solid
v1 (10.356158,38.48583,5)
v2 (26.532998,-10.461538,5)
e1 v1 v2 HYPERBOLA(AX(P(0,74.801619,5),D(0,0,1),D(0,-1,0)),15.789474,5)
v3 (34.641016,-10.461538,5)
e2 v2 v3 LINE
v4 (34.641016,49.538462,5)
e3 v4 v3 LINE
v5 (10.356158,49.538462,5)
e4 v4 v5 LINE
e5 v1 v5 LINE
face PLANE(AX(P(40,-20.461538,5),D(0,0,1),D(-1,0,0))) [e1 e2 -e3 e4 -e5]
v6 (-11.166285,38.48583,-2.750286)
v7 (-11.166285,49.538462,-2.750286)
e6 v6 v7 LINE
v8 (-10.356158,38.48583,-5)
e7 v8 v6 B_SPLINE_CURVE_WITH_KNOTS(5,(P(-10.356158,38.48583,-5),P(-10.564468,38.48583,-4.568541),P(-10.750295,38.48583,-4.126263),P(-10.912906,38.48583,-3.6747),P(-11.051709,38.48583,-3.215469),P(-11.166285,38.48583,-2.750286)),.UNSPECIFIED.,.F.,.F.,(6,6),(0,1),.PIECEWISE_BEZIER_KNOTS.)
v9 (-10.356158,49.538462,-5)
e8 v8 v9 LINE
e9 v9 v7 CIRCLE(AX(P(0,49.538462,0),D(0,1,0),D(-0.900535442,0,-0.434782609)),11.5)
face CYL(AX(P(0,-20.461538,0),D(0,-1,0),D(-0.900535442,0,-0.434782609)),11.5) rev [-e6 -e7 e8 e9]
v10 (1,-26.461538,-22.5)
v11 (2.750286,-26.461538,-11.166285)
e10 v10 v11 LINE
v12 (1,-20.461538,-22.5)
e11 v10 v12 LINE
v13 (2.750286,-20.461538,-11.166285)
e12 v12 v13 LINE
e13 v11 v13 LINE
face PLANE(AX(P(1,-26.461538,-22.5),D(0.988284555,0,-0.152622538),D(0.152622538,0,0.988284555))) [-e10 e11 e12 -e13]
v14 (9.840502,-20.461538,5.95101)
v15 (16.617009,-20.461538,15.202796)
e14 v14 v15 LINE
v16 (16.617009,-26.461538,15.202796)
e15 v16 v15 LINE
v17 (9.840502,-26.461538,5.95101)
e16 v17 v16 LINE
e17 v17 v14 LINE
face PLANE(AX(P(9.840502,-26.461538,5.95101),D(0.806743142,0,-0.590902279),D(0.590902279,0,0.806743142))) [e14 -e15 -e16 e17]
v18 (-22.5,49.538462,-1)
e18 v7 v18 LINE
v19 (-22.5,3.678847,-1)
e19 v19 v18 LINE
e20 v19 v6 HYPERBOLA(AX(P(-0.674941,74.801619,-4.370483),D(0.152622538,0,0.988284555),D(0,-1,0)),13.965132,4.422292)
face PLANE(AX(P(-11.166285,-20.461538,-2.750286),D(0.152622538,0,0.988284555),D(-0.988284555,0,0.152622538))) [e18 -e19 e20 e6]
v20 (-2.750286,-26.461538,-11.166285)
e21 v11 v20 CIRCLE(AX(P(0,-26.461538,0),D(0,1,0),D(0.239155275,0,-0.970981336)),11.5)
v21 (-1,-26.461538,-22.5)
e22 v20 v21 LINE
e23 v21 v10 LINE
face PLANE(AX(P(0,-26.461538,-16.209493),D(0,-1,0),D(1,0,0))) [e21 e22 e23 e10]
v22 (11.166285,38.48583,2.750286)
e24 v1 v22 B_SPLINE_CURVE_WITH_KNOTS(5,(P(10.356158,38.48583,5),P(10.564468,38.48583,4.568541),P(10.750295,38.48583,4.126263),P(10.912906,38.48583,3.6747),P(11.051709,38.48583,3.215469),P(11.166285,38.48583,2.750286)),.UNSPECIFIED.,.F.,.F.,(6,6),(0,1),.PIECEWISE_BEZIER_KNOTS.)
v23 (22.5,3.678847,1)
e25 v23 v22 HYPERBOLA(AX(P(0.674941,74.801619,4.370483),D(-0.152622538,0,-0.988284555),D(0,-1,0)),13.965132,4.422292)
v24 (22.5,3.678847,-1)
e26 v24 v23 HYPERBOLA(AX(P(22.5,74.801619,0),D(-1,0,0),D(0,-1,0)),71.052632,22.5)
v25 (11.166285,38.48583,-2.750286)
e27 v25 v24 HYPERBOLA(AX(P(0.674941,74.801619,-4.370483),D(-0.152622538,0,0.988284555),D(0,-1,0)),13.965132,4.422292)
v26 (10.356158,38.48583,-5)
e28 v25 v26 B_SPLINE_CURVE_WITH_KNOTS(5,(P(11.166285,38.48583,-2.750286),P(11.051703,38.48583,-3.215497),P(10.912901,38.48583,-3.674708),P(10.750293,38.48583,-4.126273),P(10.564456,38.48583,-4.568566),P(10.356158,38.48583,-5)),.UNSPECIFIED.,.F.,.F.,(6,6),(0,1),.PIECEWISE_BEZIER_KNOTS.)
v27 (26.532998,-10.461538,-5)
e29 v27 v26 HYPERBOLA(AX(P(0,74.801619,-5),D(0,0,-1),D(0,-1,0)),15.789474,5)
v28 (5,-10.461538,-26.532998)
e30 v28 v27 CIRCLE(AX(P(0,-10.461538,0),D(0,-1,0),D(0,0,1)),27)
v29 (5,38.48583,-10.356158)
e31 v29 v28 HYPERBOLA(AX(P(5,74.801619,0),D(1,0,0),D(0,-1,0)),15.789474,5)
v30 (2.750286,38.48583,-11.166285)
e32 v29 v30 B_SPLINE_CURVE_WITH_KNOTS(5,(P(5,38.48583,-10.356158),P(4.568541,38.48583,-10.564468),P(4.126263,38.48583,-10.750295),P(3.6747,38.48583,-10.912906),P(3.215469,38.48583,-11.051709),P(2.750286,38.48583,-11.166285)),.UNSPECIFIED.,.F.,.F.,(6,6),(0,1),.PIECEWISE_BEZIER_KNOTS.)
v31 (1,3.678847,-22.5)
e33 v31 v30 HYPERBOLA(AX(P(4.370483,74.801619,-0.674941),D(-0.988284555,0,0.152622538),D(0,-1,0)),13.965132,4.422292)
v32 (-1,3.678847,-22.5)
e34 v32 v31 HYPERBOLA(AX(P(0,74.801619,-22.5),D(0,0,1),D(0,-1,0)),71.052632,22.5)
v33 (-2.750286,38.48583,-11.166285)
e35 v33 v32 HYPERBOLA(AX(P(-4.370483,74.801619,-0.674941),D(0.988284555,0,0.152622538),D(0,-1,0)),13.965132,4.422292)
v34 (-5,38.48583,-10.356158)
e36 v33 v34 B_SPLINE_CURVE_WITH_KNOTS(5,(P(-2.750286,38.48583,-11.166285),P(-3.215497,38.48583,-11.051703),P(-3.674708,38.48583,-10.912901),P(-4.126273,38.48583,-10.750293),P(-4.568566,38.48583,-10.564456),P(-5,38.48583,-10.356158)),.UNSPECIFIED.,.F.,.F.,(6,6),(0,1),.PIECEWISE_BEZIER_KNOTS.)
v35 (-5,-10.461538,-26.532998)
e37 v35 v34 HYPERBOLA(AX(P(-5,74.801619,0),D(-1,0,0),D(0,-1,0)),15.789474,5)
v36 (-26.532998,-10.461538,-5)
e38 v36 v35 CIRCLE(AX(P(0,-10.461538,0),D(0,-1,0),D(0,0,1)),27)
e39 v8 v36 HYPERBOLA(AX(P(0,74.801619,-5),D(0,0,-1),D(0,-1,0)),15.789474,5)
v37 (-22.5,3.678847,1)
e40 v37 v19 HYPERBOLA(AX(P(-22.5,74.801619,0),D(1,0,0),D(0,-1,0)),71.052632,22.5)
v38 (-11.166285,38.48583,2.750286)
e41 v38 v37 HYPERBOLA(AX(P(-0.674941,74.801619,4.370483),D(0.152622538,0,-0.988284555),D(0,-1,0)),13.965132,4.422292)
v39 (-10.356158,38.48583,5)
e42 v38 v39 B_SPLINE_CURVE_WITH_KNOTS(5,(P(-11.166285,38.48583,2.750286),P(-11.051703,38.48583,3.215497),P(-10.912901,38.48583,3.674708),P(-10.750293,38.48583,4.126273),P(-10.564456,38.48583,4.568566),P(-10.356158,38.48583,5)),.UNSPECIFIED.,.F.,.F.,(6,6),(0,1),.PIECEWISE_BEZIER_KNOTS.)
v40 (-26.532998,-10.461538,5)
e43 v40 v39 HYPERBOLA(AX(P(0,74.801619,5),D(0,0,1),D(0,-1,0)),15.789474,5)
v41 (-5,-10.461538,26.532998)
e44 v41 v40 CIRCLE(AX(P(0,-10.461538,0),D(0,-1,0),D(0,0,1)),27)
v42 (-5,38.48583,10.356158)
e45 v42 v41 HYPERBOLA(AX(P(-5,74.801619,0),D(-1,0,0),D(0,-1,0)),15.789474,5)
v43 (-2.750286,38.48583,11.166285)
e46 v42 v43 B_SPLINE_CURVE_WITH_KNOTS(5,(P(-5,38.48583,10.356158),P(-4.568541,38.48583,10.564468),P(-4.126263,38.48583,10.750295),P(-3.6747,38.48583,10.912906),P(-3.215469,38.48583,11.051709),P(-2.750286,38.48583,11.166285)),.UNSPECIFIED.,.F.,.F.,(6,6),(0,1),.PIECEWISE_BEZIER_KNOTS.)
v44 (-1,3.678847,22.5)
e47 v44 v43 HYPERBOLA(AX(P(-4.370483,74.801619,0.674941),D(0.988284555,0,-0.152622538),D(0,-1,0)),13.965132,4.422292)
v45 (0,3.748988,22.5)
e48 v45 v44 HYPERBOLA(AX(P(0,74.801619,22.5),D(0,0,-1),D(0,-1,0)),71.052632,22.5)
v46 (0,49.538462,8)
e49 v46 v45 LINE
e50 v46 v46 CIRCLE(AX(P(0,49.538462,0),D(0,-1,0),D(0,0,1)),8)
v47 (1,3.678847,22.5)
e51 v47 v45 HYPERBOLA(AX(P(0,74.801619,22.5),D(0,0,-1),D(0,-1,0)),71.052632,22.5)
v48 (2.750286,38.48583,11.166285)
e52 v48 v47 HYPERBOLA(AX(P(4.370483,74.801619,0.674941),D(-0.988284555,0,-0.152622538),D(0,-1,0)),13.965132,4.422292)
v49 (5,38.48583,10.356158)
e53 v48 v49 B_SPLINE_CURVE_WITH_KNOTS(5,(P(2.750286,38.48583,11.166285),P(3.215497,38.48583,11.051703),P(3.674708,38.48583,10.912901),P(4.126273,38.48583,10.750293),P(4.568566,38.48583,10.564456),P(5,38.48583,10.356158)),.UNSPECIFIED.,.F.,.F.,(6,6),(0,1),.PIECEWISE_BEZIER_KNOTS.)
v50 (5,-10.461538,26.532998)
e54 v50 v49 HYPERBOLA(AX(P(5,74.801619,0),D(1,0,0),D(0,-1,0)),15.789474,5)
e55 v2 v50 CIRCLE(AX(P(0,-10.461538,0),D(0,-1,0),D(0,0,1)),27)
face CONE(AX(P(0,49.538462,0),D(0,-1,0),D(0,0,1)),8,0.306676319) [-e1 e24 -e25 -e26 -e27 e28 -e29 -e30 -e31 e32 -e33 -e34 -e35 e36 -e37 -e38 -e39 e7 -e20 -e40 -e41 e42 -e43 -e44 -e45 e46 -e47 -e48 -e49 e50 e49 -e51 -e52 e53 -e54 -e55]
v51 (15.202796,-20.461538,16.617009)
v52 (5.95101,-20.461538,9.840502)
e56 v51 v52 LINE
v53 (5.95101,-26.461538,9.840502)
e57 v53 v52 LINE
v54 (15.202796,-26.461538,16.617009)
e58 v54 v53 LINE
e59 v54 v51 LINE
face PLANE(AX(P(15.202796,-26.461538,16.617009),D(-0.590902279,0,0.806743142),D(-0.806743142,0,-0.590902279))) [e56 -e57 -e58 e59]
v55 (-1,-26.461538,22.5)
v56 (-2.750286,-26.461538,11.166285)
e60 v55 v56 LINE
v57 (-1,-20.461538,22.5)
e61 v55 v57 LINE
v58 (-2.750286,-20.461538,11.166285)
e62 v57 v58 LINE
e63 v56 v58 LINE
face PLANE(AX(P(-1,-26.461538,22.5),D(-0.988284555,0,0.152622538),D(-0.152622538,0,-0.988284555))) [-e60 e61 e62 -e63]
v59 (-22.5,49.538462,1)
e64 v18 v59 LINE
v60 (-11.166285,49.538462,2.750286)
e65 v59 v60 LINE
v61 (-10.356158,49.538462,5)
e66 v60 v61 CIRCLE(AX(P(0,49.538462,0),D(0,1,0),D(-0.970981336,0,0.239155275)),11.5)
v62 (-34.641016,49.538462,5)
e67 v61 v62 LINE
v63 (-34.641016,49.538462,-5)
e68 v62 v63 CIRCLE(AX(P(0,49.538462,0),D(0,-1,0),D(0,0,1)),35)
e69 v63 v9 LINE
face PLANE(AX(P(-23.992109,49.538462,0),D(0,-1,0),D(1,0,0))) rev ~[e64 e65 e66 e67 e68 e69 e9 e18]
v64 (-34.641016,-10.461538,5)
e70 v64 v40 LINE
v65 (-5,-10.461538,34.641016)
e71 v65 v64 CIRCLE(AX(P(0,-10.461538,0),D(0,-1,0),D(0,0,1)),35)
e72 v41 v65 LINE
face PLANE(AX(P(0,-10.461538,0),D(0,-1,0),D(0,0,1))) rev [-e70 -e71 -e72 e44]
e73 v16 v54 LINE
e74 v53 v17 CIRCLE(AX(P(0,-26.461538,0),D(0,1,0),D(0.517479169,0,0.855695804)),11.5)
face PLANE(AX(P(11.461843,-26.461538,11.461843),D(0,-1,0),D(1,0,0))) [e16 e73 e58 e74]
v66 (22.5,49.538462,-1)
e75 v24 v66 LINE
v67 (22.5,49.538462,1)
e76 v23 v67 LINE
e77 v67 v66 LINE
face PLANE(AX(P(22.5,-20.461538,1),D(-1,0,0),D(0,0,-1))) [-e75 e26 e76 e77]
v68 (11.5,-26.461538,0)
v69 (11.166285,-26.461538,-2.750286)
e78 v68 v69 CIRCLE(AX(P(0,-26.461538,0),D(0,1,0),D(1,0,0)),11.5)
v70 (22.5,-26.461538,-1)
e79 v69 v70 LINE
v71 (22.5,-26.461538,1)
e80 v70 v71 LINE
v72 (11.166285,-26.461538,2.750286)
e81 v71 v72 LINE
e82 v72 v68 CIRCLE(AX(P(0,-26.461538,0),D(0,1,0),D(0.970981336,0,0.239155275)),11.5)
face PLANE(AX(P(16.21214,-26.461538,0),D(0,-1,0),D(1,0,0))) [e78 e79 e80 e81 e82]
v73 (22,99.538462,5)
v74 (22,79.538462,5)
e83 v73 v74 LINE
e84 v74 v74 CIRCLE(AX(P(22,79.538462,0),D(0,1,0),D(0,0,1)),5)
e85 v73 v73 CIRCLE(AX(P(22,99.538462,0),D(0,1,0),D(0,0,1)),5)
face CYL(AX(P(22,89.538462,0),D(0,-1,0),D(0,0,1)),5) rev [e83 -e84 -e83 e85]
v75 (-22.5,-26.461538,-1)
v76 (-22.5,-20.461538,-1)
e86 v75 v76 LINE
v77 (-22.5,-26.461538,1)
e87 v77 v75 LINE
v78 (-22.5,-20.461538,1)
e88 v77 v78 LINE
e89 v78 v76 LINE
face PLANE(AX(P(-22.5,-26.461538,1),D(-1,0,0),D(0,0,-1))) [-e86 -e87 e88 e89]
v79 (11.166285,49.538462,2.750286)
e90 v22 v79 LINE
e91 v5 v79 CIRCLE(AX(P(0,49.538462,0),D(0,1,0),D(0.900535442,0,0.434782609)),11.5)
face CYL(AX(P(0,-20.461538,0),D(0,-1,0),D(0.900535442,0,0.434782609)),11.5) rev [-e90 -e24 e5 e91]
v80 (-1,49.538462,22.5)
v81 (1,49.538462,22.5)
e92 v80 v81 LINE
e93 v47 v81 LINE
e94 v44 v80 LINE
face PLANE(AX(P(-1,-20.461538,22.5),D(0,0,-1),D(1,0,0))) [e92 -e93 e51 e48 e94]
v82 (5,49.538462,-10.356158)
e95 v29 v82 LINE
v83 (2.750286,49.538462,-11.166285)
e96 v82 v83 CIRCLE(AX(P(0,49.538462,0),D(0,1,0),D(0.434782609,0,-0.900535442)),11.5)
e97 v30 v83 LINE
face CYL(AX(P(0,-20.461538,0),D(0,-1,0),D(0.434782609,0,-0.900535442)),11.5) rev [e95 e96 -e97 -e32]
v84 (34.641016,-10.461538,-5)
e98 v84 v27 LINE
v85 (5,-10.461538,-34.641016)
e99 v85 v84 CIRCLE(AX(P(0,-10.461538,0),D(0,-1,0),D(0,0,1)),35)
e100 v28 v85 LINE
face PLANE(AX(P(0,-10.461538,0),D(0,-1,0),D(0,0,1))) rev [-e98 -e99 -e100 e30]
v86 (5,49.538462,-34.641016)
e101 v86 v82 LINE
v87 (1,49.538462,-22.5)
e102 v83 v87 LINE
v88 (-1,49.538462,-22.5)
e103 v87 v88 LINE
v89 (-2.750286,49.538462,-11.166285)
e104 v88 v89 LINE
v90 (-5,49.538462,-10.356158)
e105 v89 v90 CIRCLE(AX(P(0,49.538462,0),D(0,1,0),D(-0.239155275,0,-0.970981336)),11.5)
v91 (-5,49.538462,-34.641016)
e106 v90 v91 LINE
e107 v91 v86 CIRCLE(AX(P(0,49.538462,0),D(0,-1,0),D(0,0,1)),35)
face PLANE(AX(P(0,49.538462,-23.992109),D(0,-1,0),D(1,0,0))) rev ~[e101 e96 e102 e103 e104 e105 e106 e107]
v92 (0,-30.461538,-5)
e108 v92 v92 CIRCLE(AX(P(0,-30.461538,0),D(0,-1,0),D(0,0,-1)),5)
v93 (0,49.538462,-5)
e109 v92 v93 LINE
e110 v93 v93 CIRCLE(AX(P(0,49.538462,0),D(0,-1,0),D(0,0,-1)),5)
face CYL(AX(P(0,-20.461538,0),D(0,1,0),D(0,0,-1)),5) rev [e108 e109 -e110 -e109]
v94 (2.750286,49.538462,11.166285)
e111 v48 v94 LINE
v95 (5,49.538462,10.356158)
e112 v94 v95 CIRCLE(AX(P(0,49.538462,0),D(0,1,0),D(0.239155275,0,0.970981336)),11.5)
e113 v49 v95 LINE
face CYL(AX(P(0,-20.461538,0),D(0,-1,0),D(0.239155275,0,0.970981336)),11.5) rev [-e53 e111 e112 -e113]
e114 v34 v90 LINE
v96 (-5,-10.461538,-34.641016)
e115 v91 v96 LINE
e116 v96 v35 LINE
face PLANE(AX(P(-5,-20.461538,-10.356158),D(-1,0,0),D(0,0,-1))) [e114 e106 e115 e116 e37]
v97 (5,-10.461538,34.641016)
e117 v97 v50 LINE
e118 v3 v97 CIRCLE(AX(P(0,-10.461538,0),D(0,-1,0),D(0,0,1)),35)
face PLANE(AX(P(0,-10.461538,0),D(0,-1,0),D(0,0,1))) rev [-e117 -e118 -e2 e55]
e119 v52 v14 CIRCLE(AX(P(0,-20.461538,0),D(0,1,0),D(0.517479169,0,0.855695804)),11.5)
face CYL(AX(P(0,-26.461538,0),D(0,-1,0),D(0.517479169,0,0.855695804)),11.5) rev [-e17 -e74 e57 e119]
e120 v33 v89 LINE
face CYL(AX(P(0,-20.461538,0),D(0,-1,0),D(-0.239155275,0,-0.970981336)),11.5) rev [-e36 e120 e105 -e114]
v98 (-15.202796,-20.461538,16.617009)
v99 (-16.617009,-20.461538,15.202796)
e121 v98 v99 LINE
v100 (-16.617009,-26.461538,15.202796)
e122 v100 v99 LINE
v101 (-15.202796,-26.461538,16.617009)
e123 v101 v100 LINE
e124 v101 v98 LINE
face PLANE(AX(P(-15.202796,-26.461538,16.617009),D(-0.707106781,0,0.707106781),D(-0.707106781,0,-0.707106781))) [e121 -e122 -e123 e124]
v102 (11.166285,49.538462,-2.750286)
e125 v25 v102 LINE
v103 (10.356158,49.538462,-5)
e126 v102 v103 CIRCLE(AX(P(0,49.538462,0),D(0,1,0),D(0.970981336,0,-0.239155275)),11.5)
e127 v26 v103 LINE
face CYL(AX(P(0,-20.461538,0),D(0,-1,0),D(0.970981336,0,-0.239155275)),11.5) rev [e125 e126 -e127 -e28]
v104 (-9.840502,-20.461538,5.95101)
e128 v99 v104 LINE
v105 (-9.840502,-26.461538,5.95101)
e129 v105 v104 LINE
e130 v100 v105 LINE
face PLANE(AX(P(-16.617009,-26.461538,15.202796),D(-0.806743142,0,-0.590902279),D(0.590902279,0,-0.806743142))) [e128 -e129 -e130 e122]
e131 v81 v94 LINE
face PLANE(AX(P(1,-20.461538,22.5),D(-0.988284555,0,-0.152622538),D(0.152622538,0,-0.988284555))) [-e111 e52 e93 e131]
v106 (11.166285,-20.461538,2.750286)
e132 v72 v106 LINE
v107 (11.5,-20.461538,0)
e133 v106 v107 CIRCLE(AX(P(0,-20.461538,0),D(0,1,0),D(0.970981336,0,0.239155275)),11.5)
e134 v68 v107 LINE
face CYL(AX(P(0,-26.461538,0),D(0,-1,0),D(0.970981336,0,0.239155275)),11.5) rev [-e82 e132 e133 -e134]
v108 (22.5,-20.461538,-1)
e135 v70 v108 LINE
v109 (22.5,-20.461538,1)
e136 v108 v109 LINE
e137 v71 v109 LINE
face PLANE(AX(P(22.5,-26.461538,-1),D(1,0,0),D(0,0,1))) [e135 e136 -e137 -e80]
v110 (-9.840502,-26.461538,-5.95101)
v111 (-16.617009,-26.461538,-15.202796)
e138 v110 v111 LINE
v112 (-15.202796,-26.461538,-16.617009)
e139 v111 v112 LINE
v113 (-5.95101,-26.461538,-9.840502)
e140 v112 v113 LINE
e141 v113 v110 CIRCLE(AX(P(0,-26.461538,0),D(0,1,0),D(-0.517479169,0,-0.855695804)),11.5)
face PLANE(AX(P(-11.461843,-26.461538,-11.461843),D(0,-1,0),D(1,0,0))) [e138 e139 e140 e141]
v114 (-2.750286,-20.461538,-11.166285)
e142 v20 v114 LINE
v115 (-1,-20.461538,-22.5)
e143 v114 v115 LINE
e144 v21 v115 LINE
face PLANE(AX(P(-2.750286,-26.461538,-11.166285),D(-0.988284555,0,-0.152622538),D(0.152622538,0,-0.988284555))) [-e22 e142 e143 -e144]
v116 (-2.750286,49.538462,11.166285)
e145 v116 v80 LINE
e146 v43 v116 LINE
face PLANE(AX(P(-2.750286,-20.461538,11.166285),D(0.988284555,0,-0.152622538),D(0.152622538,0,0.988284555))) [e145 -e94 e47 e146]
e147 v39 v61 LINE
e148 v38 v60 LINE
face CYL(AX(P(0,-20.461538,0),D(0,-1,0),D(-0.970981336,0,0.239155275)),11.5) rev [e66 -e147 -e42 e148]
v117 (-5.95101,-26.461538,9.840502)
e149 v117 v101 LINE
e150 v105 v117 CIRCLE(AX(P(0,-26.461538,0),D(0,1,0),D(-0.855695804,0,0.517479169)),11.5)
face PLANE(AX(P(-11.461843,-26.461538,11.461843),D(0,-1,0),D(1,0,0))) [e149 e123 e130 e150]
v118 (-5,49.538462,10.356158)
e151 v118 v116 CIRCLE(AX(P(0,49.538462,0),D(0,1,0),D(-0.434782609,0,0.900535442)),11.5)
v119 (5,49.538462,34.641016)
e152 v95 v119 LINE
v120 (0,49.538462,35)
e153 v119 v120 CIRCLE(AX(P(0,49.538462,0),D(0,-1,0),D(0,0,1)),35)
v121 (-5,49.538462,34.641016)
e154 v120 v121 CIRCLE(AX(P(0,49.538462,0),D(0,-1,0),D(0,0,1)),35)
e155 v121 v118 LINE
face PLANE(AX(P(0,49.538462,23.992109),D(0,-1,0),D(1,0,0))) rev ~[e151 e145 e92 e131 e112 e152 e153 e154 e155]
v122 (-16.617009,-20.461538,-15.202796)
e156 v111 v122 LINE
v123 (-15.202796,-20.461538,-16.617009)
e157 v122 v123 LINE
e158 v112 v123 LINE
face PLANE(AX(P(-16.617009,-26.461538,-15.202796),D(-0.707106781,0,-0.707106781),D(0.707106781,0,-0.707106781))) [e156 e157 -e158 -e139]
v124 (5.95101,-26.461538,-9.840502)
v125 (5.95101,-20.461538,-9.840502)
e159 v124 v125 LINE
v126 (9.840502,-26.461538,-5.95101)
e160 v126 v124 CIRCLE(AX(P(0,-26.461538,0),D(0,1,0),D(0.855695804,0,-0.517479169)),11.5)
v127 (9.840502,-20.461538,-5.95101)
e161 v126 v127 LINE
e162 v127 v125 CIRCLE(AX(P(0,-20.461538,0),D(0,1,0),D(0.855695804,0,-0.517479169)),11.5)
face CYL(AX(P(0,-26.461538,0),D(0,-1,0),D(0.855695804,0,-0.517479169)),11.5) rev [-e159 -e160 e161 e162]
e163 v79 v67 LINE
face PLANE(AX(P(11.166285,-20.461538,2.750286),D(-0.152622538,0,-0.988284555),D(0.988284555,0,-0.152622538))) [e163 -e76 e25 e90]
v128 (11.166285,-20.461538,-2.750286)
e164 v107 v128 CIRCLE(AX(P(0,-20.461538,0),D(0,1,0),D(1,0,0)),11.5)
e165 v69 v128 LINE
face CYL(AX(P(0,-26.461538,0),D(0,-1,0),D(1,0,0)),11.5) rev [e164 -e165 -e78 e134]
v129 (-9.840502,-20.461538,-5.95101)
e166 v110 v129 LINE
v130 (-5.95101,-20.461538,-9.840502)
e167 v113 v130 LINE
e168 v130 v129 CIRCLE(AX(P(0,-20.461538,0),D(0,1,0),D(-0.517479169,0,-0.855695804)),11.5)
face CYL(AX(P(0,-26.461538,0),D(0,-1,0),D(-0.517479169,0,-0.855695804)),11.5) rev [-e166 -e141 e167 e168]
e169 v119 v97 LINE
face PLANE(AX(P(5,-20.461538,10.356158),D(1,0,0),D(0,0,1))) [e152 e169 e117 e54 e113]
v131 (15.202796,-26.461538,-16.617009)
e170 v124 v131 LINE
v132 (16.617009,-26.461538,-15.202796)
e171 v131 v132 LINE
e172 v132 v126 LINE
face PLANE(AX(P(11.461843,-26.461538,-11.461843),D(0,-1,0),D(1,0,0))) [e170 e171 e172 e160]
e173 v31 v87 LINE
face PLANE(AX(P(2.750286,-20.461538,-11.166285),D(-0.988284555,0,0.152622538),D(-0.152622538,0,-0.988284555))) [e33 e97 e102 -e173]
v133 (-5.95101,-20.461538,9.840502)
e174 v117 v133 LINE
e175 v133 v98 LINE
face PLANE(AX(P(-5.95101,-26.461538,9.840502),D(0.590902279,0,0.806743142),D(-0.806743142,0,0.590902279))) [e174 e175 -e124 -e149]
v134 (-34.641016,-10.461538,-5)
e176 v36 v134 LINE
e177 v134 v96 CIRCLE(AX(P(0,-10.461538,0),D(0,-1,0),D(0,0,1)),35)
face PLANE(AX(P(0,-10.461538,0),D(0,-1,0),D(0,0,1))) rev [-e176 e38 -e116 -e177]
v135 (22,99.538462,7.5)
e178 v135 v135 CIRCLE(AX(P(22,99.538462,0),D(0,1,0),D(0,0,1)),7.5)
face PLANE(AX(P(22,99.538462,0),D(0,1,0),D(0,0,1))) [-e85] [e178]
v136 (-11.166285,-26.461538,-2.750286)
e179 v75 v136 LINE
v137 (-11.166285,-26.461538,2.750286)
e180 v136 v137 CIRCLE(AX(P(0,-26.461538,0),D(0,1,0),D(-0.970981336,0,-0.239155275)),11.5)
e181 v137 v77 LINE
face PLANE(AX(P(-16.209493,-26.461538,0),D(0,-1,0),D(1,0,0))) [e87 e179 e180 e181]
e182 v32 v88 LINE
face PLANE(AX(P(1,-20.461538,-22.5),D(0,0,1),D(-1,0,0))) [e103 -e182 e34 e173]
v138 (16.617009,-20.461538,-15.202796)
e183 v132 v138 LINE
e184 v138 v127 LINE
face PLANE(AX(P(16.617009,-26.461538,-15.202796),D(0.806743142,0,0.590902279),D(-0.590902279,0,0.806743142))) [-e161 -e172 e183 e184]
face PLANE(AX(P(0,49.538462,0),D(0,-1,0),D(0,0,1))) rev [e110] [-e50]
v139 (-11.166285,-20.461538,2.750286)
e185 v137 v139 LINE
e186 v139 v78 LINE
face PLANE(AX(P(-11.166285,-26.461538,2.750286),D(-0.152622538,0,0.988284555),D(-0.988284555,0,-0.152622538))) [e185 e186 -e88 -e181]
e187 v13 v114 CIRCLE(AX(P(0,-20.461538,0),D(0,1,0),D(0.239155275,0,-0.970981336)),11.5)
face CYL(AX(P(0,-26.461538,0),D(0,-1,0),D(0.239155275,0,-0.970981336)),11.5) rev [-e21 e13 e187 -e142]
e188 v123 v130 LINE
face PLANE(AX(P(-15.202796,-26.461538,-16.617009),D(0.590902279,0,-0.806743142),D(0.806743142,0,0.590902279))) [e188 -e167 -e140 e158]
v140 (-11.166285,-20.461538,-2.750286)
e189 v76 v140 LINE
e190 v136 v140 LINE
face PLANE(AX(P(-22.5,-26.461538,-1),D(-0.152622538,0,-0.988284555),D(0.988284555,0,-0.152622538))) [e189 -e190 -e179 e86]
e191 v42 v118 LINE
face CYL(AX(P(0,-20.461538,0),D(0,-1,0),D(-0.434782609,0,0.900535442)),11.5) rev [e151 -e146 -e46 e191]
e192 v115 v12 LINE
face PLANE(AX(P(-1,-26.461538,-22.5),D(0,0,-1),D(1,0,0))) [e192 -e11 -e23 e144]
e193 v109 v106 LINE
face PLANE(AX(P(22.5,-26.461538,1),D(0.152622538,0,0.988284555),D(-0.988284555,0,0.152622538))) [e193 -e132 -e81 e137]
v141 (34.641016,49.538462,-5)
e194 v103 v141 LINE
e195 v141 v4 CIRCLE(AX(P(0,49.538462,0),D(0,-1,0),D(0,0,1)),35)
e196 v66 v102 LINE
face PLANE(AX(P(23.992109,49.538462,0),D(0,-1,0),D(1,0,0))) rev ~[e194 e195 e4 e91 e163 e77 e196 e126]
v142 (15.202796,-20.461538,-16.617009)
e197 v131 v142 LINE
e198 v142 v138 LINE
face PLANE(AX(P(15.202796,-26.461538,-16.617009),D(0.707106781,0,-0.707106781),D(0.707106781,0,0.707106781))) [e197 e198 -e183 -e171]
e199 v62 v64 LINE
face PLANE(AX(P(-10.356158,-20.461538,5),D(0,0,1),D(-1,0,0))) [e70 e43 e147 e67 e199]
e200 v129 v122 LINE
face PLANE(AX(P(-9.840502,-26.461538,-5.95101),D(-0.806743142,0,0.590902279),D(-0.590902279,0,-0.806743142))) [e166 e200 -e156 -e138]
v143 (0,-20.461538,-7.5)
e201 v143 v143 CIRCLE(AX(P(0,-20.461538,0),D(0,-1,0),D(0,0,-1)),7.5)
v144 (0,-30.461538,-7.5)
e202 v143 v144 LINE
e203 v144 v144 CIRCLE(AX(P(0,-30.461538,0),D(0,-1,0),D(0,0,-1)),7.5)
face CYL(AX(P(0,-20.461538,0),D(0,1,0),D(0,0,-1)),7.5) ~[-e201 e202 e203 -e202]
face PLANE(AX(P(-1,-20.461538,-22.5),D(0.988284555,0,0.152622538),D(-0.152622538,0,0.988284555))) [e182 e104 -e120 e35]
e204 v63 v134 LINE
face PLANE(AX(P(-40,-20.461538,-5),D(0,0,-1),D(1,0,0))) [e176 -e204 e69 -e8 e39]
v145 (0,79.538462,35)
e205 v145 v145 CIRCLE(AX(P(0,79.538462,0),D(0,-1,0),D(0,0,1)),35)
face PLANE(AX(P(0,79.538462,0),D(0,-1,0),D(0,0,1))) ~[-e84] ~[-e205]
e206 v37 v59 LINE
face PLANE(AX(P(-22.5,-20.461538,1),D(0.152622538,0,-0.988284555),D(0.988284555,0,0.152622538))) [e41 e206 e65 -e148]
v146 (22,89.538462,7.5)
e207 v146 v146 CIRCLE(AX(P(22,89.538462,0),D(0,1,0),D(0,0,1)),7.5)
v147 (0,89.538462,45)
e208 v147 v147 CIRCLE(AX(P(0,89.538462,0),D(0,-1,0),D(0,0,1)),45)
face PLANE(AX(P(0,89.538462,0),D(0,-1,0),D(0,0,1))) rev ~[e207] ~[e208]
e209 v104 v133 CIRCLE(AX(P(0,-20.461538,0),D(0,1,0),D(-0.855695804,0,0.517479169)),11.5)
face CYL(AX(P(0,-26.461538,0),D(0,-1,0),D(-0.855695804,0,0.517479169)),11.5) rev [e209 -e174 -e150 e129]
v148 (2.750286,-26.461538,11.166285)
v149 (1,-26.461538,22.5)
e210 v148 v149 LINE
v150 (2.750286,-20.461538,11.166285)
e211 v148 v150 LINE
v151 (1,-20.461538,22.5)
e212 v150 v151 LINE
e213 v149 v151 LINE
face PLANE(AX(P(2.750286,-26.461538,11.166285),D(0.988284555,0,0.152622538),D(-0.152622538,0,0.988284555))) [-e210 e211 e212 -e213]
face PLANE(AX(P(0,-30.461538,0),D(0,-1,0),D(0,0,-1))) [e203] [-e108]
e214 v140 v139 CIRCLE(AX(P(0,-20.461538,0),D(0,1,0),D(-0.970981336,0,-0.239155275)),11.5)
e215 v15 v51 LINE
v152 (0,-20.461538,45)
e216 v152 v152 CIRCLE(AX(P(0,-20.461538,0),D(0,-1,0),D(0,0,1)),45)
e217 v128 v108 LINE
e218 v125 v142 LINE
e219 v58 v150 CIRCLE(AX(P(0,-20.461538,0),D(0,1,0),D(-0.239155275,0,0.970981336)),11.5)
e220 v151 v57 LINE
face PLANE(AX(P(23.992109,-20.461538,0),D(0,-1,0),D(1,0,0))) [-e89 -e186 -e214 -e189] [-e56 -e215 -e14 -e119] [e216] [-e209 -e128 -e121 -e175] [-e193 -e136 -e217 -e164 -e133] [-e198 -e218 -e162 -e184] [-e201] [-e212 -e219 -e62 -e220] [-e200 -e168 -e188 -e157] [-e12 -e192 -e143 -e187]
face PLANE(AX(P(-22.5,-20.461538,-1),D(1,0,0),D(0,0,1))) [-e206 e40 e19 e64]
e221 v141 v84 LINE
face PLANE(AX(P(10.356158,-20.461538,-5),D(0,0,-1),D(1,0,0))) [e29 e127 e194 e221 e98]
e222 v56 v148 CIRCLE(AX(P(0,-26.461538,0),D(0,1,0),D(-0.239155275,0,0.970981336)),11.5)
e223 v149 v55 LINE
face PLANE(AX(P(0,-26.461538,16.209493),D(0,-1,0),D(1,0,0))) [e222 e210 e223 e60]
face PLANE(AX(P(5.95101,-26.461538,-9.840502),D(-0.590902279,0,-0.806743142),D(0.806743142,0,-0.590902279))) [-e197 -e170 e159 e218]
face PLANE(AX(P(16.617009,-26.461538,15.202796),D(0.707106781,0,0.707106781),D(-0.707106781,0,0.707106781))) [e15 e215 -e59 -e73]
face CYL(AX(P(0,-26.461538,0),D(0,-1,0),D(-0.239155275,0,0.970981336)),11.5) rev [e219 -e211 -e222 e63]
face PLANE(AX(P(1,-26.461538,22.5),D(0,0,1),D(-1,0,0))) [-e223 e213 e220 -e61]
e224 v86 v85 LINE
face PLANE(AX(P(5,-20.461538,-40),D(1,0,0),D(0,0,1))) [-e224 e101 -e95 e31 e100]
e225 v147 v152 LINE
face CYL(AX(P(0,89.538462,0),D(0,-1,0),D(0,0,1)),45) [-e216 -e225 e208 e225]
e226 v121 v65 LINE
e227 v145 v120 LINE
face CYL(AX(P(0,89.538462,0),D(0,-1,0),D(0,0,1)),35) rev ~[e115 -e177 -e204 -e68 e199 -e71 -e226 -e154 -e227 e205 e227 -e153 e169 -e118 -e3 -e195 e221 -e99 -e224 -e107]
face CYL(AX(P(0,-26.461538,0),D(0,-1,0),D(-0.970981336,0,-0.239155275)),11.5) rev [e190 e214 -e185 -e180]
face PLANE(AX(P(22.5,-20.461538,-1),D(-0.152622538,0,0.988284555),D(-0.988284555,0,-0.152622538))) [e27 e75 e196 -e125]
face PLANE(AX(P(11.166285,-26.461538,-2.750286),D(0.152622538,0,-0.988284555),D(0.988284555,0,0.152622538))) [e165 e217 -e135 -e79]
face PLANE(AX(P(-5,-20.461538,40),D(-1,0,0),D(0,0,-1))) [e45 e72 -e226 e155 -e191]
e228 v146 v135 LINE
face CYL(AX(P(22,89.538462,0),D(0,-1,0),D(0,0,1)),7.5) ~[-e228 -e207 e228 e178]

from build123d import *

# Parameters (mm, degrees)
SKETCH1_W           = 35
SKETCH1_H           = 10
BOSS_EXTRUDE1_DEPTH = 70
SKETCH2_3_R         = 7.5
SKETCH2_3_R_2       = 5
BOSS_EXTRUDE2_DEPTH = 10
CUT_EXTRUDE1_START  = -70
SKETCH2_4_R         = 5
CUT_EXTRUDE1_DEPTH  = 70
SKETCH3_R           = 7.5
SKETCH3_R_2         = 5
BOSS_EXTRUDE3_DEPTH = 10
CUT_EXTRUDE3_START  = -10
SKETCH3_2_R         = 5
CUT_EXTRUDE3_DEPTH  = 10
BOSS_EXTRUDE6_START = 6
BOSS_EXTRUDE6_DEPTH = 6


with BuildPart() as part:
    # Sketch1 → Revolve1 (revolve)
    with BuildSketch(Plane(origin=(0, 0, 0), x_dir=(0, 0, -1), z_dir=(1, 0, 0)), mode=Mode.PRIVATE) as revolve1_sk:
        Polygon((35, 79.538461538), (35, 89.538461538), (45, 89.538461538), (45, -20.461538462), (0, -20.461538462), (0, -10.461538462), (0, 49.538461538), (8, 49.538461538), (27, -10.461538462), (35, -10.461538462), align=None)
        with Locations((17.5, 84.538461538)):
            Rectangle(SKETCH1_W, SKETCH1_H)
    revolve(revolve1_sk.sketch.rotate(Axis((0, 0, 0), (0, -1, 0)), 180), axis=Axis((0, 0, 0), (0, -1, 0)))

    # Sketch2 → Boss-Extrude1 (add)
    with BuildSketch(Plane.XZ.offset(20.461538462)):
        with BuildLine():
            Line((40, 5), (10.356157589, 5))
            ThreePointArc((10.356157589, 5), (10.819851722, 3.896255731), (11.166285361, 2.750285665))
            Line((11.166285361, 2.750285665), (22.5, 1))
            Line((22.5, 1), (22.5, -1))
            Line((22.5, -1), (11.166285361, -2.750285665))
            ThreePointArc((11.166285361, -2.750285665), (10.819851722, -3.896255731), (10.356157589, -5))
            Line((10.356157589, -5), (40, -5))
            Line((40, -5), (40, 5))
        make_face()
        with BuildLine():
            ThreePointArc((2.750285665, 11.166285361), (3.896255731, 10.819851722), (5, 10.356157589))
            Line((5, 10.356157589), (5, 40))
            Line((5, 40), (-5, 40))
            Line((-5, 40), (-5, 10.356157589))
            ThreePointArc((-5, 10.356157589), (-3.896255731, 10.819851722), (-2.750285665, 11.166285361))
            Line((-2.750285665, 11.166285361), (-1, 22.5))
            Line((-1, 22.5), (1, 22.5))
            Line((1, 22.5), (2.750285665, 11.166285361))
        make_face()
        with BuildLine():
            Line((5, -40), (5, -10.356157589))
            ThreePointArc((5, -10.356157589), (3.896255731, -10.819851722), (2.750285665, -11.166285361))
            Line((2.750285665, -11.166285361), (1, -22.5))
            Line((1, -22.5), (-1, -22.5))
            Line((-1, -22.5), (-2.750285665, -11.166285361))
            ThreePointArc((-2.750285665, -11.166285361), (-3.896255731, -10.819851722), (-5, -10.356157589))
            Line((-5, -10.356157589), (-5, -40))
            Line((-5, -40), (5, -40))
        make_face()
        with BuildLine():
            ThreePointArc((-11.166285361, 2.750285665), (-10.819851722, 3.896255731), (-10.356157589, 5))
            Line((-10.356157589, 5), (-40, 5))
            Line((-40, 5), (-40, -5))
            Line((-40, -5), (-10.356157589, -5))
            ThreePointArc((-10.356157589, -5), (-10.819851722, -3.896255731), (-11.166285361, -2.750285665))
            Line((-11.166285361, -2.750285665), (-22.5, -1))
            Line((-22.5, -1), (-22.5, 1))
            Line((-22.5, 1), (-11.166285361, 2.750285665))
        make_face()
    extrude(amount=-BOSS_EXTRUDE1_DEPTH)

    # Sketch2<3> → Boss-Extrude2 (add)
    with BuildSketch(Plane.XZ.offset(20.461538462)):
        with Locations(Location((0, 0, 0), (0, 0, 270))):
            Circle(SKETCH2_3_R)
        with Locations(Location((0, 0, 0), (0, 0, 270))):
            Circle(SKETCH2_3_R_2, mode=Mode.SUBTRACT)
    extrude(amount=BOSS_EXTRUDE2_DEPTH)

    # Sketch2<4> → Cut-Extrude1 (cut)
    with BuildSketch(Plane.XZ.offset(20.461538462).offset(CUT_EXTRUDE1_START)):
        with Locations(Location((0, 0, 0), (0, 0, 270))):
            Circle(SKETCH2_4_R)
    extrude(amount=CUT_EXTRUDE1_DEPTH, mode=Mode.SUBTRACT)

    # Sketch3 → Boss-Extrude3 (add)
    with BuildSketch(Plane(origin=(0, 89.538461538, 0), x_dir=(1, 0, 0), z_dir=(0, 1, 0))):
        with Locations(Location((22, 0, 0), (0, 0, 270))):
            Circle(SKETCH3_R)
        with Locations(Location((22, 0, 0), (0, 0, 270))):
            Circle(SKETCH3_R_2, mode=Mode.SUBTRACT)
    extrude(amount=BOSS_EXTRUDE3_DEPTH)

    # Sketch3<2> → Cut-Extrude3 (cut)
    with BuildSketch(Plane(origin=(0, 89.538461538, 0), x_dir=(1, 0, 0), z_dir=(0, 1, 0)).offset(CUT_EXTRUDE3_START)):
        with Locations(Location((22, 0, 0), (0, 0, 270))):
            Circle(SKETCH3_2_R)
    extrude(amount=CUT_EXTRUDE3_DEPTH, mode=Mode.SUBTRACT)

    # Sketch2<5> → Boss-Extrude6 (add)
    with BuildSketch(Plane.XZ.offset(20.461538462).offset(BOSS_EXTRUDE6_START)):
        with BuildLine():
            ThreePointArc((-9.840501743, 5.951010455), (-8.131727984, 8.131727984), (-5.951010455, 9.840501743))
            Line((-5.951010455, 9.840501743), (-15.202795796, 16.617009358))
            Line((-15.202795796, 16.617009358), (-15.909902577, 15.909902577))
            Line((-15.909902577, 15.909902577), (-16.617009358, 15.202795796))
            Line((-16.617009358, 15.202795796), (-9.840501743, 5.951010455))
        make_face()
        with BuildLine():
            ThreePointArc((-2.750285665, 11.166285361), (0, 11.5), (2.750285665, 11.166285361))
            Line((2.750285665, 11.166285361), (1, 22.5))
            Line((1, 22.5), (0, 22.5))
            Line((0, 22.5), (-1, 22.5))
            Line((-1, 22.5), (-2.750285665, 11.166285361))
        make_face()
        with BuildLine():
            ThreePointArc((5.951010455, 9.840501743), (8.131727984, 8.131727984), (9.840501743, 5.951010455))
            Line((9.840501743, 5.951010455), (16.617009358, 15.202795796))
            Line((16.617009358, 15.202795796), (15.909902577, 15.909902577))
            Line((15.909902577, 15.909902577), (15.202795796, 16.617009358))
            Line((15.202795796, 16.617009358), (5.951010455, 9.840501743))
        make_face()
        with BuildLine():
            Line((22.5, 1), (11.166285361, 2.750285665))
            ThreePointArc((11.166285361, 2.750285665), (11.416266501, 1.385228925), (11.5, 0))
            ThreePointArc((11.5, 0), (11.416266501, -1.385228925), (11.166285361, -2.750285665))
            Line((11.166285361, -2.750285665), (22.5, -1))
            Line((22.5, -1), (22.5, 0))
            Line((22.5, 0), (22.5, 1))
        make_face()
        with BuildLine():
            Line((16.617009358, -15.202795796), (9.840501743, -5.951010455))
            ThreePointArc((9.840501743, -5.951010455), (8.131727984, -8.131727984), (5.951010455, -9.840501743))
            Line((5.951010455, -9.840501743), (15.202795796, -16.617009358))
            Line((15.202795796, -16.617009358), (15.909902577, -15.909902577))
            Line((15.909902577, -15.909902577), (16.617009358, -15.202795796))
        make_face()
        with BuildLine():
            Line((1, -22.5), (2.750285665, -11.166285361))
            ThreePointArc((2.750285665, -11.166285361), (0, -11.5), (-2.750285665, -11.166285361))
            Line((-2.750285665, -11.166285361), (-1, -22.5))
            Line((-1, -22.5), (0, -22.5))
            Line((0, -22.5), (1, -22.5))
        make_face()
        with BuildLine():
            Line((-15.202795796, -16.617009358), (-5.951010455, -9.840501743))
            ThreePointArc((-5.951010455, -9.840501743), (-8.131727984, -8.131727984), (-9.840501743, -5.951010455))
            Line((-9.840501743, -5.951010455), (-16.617009358, -15.202795796))
            Line((-16.617009358, -15.202795796), (-15.909902577, -15.909902577))
            Line((-15.909902577, -15.909902577), (-15.202795796, -16.617009358))
        make_face()
        with BuildLine():
            ThreePointArc((-11.166285361, -2.750285665), (-11.5, 0), (-11.166285361, 2.750285665))
            Line((-11.166285361, 2.750285665), (-22.5, 1))
            Line((-22.5, 1), (-22.5, 0))
            Line((-22.5, 0), (-22.5, -1))
            Line((-22.5, -1), (-11.166285361, -2.750285665))
        make_face()
    extrude(amount=-BOSS_EXTRUDE6_DEPTH)


solid = part.part
